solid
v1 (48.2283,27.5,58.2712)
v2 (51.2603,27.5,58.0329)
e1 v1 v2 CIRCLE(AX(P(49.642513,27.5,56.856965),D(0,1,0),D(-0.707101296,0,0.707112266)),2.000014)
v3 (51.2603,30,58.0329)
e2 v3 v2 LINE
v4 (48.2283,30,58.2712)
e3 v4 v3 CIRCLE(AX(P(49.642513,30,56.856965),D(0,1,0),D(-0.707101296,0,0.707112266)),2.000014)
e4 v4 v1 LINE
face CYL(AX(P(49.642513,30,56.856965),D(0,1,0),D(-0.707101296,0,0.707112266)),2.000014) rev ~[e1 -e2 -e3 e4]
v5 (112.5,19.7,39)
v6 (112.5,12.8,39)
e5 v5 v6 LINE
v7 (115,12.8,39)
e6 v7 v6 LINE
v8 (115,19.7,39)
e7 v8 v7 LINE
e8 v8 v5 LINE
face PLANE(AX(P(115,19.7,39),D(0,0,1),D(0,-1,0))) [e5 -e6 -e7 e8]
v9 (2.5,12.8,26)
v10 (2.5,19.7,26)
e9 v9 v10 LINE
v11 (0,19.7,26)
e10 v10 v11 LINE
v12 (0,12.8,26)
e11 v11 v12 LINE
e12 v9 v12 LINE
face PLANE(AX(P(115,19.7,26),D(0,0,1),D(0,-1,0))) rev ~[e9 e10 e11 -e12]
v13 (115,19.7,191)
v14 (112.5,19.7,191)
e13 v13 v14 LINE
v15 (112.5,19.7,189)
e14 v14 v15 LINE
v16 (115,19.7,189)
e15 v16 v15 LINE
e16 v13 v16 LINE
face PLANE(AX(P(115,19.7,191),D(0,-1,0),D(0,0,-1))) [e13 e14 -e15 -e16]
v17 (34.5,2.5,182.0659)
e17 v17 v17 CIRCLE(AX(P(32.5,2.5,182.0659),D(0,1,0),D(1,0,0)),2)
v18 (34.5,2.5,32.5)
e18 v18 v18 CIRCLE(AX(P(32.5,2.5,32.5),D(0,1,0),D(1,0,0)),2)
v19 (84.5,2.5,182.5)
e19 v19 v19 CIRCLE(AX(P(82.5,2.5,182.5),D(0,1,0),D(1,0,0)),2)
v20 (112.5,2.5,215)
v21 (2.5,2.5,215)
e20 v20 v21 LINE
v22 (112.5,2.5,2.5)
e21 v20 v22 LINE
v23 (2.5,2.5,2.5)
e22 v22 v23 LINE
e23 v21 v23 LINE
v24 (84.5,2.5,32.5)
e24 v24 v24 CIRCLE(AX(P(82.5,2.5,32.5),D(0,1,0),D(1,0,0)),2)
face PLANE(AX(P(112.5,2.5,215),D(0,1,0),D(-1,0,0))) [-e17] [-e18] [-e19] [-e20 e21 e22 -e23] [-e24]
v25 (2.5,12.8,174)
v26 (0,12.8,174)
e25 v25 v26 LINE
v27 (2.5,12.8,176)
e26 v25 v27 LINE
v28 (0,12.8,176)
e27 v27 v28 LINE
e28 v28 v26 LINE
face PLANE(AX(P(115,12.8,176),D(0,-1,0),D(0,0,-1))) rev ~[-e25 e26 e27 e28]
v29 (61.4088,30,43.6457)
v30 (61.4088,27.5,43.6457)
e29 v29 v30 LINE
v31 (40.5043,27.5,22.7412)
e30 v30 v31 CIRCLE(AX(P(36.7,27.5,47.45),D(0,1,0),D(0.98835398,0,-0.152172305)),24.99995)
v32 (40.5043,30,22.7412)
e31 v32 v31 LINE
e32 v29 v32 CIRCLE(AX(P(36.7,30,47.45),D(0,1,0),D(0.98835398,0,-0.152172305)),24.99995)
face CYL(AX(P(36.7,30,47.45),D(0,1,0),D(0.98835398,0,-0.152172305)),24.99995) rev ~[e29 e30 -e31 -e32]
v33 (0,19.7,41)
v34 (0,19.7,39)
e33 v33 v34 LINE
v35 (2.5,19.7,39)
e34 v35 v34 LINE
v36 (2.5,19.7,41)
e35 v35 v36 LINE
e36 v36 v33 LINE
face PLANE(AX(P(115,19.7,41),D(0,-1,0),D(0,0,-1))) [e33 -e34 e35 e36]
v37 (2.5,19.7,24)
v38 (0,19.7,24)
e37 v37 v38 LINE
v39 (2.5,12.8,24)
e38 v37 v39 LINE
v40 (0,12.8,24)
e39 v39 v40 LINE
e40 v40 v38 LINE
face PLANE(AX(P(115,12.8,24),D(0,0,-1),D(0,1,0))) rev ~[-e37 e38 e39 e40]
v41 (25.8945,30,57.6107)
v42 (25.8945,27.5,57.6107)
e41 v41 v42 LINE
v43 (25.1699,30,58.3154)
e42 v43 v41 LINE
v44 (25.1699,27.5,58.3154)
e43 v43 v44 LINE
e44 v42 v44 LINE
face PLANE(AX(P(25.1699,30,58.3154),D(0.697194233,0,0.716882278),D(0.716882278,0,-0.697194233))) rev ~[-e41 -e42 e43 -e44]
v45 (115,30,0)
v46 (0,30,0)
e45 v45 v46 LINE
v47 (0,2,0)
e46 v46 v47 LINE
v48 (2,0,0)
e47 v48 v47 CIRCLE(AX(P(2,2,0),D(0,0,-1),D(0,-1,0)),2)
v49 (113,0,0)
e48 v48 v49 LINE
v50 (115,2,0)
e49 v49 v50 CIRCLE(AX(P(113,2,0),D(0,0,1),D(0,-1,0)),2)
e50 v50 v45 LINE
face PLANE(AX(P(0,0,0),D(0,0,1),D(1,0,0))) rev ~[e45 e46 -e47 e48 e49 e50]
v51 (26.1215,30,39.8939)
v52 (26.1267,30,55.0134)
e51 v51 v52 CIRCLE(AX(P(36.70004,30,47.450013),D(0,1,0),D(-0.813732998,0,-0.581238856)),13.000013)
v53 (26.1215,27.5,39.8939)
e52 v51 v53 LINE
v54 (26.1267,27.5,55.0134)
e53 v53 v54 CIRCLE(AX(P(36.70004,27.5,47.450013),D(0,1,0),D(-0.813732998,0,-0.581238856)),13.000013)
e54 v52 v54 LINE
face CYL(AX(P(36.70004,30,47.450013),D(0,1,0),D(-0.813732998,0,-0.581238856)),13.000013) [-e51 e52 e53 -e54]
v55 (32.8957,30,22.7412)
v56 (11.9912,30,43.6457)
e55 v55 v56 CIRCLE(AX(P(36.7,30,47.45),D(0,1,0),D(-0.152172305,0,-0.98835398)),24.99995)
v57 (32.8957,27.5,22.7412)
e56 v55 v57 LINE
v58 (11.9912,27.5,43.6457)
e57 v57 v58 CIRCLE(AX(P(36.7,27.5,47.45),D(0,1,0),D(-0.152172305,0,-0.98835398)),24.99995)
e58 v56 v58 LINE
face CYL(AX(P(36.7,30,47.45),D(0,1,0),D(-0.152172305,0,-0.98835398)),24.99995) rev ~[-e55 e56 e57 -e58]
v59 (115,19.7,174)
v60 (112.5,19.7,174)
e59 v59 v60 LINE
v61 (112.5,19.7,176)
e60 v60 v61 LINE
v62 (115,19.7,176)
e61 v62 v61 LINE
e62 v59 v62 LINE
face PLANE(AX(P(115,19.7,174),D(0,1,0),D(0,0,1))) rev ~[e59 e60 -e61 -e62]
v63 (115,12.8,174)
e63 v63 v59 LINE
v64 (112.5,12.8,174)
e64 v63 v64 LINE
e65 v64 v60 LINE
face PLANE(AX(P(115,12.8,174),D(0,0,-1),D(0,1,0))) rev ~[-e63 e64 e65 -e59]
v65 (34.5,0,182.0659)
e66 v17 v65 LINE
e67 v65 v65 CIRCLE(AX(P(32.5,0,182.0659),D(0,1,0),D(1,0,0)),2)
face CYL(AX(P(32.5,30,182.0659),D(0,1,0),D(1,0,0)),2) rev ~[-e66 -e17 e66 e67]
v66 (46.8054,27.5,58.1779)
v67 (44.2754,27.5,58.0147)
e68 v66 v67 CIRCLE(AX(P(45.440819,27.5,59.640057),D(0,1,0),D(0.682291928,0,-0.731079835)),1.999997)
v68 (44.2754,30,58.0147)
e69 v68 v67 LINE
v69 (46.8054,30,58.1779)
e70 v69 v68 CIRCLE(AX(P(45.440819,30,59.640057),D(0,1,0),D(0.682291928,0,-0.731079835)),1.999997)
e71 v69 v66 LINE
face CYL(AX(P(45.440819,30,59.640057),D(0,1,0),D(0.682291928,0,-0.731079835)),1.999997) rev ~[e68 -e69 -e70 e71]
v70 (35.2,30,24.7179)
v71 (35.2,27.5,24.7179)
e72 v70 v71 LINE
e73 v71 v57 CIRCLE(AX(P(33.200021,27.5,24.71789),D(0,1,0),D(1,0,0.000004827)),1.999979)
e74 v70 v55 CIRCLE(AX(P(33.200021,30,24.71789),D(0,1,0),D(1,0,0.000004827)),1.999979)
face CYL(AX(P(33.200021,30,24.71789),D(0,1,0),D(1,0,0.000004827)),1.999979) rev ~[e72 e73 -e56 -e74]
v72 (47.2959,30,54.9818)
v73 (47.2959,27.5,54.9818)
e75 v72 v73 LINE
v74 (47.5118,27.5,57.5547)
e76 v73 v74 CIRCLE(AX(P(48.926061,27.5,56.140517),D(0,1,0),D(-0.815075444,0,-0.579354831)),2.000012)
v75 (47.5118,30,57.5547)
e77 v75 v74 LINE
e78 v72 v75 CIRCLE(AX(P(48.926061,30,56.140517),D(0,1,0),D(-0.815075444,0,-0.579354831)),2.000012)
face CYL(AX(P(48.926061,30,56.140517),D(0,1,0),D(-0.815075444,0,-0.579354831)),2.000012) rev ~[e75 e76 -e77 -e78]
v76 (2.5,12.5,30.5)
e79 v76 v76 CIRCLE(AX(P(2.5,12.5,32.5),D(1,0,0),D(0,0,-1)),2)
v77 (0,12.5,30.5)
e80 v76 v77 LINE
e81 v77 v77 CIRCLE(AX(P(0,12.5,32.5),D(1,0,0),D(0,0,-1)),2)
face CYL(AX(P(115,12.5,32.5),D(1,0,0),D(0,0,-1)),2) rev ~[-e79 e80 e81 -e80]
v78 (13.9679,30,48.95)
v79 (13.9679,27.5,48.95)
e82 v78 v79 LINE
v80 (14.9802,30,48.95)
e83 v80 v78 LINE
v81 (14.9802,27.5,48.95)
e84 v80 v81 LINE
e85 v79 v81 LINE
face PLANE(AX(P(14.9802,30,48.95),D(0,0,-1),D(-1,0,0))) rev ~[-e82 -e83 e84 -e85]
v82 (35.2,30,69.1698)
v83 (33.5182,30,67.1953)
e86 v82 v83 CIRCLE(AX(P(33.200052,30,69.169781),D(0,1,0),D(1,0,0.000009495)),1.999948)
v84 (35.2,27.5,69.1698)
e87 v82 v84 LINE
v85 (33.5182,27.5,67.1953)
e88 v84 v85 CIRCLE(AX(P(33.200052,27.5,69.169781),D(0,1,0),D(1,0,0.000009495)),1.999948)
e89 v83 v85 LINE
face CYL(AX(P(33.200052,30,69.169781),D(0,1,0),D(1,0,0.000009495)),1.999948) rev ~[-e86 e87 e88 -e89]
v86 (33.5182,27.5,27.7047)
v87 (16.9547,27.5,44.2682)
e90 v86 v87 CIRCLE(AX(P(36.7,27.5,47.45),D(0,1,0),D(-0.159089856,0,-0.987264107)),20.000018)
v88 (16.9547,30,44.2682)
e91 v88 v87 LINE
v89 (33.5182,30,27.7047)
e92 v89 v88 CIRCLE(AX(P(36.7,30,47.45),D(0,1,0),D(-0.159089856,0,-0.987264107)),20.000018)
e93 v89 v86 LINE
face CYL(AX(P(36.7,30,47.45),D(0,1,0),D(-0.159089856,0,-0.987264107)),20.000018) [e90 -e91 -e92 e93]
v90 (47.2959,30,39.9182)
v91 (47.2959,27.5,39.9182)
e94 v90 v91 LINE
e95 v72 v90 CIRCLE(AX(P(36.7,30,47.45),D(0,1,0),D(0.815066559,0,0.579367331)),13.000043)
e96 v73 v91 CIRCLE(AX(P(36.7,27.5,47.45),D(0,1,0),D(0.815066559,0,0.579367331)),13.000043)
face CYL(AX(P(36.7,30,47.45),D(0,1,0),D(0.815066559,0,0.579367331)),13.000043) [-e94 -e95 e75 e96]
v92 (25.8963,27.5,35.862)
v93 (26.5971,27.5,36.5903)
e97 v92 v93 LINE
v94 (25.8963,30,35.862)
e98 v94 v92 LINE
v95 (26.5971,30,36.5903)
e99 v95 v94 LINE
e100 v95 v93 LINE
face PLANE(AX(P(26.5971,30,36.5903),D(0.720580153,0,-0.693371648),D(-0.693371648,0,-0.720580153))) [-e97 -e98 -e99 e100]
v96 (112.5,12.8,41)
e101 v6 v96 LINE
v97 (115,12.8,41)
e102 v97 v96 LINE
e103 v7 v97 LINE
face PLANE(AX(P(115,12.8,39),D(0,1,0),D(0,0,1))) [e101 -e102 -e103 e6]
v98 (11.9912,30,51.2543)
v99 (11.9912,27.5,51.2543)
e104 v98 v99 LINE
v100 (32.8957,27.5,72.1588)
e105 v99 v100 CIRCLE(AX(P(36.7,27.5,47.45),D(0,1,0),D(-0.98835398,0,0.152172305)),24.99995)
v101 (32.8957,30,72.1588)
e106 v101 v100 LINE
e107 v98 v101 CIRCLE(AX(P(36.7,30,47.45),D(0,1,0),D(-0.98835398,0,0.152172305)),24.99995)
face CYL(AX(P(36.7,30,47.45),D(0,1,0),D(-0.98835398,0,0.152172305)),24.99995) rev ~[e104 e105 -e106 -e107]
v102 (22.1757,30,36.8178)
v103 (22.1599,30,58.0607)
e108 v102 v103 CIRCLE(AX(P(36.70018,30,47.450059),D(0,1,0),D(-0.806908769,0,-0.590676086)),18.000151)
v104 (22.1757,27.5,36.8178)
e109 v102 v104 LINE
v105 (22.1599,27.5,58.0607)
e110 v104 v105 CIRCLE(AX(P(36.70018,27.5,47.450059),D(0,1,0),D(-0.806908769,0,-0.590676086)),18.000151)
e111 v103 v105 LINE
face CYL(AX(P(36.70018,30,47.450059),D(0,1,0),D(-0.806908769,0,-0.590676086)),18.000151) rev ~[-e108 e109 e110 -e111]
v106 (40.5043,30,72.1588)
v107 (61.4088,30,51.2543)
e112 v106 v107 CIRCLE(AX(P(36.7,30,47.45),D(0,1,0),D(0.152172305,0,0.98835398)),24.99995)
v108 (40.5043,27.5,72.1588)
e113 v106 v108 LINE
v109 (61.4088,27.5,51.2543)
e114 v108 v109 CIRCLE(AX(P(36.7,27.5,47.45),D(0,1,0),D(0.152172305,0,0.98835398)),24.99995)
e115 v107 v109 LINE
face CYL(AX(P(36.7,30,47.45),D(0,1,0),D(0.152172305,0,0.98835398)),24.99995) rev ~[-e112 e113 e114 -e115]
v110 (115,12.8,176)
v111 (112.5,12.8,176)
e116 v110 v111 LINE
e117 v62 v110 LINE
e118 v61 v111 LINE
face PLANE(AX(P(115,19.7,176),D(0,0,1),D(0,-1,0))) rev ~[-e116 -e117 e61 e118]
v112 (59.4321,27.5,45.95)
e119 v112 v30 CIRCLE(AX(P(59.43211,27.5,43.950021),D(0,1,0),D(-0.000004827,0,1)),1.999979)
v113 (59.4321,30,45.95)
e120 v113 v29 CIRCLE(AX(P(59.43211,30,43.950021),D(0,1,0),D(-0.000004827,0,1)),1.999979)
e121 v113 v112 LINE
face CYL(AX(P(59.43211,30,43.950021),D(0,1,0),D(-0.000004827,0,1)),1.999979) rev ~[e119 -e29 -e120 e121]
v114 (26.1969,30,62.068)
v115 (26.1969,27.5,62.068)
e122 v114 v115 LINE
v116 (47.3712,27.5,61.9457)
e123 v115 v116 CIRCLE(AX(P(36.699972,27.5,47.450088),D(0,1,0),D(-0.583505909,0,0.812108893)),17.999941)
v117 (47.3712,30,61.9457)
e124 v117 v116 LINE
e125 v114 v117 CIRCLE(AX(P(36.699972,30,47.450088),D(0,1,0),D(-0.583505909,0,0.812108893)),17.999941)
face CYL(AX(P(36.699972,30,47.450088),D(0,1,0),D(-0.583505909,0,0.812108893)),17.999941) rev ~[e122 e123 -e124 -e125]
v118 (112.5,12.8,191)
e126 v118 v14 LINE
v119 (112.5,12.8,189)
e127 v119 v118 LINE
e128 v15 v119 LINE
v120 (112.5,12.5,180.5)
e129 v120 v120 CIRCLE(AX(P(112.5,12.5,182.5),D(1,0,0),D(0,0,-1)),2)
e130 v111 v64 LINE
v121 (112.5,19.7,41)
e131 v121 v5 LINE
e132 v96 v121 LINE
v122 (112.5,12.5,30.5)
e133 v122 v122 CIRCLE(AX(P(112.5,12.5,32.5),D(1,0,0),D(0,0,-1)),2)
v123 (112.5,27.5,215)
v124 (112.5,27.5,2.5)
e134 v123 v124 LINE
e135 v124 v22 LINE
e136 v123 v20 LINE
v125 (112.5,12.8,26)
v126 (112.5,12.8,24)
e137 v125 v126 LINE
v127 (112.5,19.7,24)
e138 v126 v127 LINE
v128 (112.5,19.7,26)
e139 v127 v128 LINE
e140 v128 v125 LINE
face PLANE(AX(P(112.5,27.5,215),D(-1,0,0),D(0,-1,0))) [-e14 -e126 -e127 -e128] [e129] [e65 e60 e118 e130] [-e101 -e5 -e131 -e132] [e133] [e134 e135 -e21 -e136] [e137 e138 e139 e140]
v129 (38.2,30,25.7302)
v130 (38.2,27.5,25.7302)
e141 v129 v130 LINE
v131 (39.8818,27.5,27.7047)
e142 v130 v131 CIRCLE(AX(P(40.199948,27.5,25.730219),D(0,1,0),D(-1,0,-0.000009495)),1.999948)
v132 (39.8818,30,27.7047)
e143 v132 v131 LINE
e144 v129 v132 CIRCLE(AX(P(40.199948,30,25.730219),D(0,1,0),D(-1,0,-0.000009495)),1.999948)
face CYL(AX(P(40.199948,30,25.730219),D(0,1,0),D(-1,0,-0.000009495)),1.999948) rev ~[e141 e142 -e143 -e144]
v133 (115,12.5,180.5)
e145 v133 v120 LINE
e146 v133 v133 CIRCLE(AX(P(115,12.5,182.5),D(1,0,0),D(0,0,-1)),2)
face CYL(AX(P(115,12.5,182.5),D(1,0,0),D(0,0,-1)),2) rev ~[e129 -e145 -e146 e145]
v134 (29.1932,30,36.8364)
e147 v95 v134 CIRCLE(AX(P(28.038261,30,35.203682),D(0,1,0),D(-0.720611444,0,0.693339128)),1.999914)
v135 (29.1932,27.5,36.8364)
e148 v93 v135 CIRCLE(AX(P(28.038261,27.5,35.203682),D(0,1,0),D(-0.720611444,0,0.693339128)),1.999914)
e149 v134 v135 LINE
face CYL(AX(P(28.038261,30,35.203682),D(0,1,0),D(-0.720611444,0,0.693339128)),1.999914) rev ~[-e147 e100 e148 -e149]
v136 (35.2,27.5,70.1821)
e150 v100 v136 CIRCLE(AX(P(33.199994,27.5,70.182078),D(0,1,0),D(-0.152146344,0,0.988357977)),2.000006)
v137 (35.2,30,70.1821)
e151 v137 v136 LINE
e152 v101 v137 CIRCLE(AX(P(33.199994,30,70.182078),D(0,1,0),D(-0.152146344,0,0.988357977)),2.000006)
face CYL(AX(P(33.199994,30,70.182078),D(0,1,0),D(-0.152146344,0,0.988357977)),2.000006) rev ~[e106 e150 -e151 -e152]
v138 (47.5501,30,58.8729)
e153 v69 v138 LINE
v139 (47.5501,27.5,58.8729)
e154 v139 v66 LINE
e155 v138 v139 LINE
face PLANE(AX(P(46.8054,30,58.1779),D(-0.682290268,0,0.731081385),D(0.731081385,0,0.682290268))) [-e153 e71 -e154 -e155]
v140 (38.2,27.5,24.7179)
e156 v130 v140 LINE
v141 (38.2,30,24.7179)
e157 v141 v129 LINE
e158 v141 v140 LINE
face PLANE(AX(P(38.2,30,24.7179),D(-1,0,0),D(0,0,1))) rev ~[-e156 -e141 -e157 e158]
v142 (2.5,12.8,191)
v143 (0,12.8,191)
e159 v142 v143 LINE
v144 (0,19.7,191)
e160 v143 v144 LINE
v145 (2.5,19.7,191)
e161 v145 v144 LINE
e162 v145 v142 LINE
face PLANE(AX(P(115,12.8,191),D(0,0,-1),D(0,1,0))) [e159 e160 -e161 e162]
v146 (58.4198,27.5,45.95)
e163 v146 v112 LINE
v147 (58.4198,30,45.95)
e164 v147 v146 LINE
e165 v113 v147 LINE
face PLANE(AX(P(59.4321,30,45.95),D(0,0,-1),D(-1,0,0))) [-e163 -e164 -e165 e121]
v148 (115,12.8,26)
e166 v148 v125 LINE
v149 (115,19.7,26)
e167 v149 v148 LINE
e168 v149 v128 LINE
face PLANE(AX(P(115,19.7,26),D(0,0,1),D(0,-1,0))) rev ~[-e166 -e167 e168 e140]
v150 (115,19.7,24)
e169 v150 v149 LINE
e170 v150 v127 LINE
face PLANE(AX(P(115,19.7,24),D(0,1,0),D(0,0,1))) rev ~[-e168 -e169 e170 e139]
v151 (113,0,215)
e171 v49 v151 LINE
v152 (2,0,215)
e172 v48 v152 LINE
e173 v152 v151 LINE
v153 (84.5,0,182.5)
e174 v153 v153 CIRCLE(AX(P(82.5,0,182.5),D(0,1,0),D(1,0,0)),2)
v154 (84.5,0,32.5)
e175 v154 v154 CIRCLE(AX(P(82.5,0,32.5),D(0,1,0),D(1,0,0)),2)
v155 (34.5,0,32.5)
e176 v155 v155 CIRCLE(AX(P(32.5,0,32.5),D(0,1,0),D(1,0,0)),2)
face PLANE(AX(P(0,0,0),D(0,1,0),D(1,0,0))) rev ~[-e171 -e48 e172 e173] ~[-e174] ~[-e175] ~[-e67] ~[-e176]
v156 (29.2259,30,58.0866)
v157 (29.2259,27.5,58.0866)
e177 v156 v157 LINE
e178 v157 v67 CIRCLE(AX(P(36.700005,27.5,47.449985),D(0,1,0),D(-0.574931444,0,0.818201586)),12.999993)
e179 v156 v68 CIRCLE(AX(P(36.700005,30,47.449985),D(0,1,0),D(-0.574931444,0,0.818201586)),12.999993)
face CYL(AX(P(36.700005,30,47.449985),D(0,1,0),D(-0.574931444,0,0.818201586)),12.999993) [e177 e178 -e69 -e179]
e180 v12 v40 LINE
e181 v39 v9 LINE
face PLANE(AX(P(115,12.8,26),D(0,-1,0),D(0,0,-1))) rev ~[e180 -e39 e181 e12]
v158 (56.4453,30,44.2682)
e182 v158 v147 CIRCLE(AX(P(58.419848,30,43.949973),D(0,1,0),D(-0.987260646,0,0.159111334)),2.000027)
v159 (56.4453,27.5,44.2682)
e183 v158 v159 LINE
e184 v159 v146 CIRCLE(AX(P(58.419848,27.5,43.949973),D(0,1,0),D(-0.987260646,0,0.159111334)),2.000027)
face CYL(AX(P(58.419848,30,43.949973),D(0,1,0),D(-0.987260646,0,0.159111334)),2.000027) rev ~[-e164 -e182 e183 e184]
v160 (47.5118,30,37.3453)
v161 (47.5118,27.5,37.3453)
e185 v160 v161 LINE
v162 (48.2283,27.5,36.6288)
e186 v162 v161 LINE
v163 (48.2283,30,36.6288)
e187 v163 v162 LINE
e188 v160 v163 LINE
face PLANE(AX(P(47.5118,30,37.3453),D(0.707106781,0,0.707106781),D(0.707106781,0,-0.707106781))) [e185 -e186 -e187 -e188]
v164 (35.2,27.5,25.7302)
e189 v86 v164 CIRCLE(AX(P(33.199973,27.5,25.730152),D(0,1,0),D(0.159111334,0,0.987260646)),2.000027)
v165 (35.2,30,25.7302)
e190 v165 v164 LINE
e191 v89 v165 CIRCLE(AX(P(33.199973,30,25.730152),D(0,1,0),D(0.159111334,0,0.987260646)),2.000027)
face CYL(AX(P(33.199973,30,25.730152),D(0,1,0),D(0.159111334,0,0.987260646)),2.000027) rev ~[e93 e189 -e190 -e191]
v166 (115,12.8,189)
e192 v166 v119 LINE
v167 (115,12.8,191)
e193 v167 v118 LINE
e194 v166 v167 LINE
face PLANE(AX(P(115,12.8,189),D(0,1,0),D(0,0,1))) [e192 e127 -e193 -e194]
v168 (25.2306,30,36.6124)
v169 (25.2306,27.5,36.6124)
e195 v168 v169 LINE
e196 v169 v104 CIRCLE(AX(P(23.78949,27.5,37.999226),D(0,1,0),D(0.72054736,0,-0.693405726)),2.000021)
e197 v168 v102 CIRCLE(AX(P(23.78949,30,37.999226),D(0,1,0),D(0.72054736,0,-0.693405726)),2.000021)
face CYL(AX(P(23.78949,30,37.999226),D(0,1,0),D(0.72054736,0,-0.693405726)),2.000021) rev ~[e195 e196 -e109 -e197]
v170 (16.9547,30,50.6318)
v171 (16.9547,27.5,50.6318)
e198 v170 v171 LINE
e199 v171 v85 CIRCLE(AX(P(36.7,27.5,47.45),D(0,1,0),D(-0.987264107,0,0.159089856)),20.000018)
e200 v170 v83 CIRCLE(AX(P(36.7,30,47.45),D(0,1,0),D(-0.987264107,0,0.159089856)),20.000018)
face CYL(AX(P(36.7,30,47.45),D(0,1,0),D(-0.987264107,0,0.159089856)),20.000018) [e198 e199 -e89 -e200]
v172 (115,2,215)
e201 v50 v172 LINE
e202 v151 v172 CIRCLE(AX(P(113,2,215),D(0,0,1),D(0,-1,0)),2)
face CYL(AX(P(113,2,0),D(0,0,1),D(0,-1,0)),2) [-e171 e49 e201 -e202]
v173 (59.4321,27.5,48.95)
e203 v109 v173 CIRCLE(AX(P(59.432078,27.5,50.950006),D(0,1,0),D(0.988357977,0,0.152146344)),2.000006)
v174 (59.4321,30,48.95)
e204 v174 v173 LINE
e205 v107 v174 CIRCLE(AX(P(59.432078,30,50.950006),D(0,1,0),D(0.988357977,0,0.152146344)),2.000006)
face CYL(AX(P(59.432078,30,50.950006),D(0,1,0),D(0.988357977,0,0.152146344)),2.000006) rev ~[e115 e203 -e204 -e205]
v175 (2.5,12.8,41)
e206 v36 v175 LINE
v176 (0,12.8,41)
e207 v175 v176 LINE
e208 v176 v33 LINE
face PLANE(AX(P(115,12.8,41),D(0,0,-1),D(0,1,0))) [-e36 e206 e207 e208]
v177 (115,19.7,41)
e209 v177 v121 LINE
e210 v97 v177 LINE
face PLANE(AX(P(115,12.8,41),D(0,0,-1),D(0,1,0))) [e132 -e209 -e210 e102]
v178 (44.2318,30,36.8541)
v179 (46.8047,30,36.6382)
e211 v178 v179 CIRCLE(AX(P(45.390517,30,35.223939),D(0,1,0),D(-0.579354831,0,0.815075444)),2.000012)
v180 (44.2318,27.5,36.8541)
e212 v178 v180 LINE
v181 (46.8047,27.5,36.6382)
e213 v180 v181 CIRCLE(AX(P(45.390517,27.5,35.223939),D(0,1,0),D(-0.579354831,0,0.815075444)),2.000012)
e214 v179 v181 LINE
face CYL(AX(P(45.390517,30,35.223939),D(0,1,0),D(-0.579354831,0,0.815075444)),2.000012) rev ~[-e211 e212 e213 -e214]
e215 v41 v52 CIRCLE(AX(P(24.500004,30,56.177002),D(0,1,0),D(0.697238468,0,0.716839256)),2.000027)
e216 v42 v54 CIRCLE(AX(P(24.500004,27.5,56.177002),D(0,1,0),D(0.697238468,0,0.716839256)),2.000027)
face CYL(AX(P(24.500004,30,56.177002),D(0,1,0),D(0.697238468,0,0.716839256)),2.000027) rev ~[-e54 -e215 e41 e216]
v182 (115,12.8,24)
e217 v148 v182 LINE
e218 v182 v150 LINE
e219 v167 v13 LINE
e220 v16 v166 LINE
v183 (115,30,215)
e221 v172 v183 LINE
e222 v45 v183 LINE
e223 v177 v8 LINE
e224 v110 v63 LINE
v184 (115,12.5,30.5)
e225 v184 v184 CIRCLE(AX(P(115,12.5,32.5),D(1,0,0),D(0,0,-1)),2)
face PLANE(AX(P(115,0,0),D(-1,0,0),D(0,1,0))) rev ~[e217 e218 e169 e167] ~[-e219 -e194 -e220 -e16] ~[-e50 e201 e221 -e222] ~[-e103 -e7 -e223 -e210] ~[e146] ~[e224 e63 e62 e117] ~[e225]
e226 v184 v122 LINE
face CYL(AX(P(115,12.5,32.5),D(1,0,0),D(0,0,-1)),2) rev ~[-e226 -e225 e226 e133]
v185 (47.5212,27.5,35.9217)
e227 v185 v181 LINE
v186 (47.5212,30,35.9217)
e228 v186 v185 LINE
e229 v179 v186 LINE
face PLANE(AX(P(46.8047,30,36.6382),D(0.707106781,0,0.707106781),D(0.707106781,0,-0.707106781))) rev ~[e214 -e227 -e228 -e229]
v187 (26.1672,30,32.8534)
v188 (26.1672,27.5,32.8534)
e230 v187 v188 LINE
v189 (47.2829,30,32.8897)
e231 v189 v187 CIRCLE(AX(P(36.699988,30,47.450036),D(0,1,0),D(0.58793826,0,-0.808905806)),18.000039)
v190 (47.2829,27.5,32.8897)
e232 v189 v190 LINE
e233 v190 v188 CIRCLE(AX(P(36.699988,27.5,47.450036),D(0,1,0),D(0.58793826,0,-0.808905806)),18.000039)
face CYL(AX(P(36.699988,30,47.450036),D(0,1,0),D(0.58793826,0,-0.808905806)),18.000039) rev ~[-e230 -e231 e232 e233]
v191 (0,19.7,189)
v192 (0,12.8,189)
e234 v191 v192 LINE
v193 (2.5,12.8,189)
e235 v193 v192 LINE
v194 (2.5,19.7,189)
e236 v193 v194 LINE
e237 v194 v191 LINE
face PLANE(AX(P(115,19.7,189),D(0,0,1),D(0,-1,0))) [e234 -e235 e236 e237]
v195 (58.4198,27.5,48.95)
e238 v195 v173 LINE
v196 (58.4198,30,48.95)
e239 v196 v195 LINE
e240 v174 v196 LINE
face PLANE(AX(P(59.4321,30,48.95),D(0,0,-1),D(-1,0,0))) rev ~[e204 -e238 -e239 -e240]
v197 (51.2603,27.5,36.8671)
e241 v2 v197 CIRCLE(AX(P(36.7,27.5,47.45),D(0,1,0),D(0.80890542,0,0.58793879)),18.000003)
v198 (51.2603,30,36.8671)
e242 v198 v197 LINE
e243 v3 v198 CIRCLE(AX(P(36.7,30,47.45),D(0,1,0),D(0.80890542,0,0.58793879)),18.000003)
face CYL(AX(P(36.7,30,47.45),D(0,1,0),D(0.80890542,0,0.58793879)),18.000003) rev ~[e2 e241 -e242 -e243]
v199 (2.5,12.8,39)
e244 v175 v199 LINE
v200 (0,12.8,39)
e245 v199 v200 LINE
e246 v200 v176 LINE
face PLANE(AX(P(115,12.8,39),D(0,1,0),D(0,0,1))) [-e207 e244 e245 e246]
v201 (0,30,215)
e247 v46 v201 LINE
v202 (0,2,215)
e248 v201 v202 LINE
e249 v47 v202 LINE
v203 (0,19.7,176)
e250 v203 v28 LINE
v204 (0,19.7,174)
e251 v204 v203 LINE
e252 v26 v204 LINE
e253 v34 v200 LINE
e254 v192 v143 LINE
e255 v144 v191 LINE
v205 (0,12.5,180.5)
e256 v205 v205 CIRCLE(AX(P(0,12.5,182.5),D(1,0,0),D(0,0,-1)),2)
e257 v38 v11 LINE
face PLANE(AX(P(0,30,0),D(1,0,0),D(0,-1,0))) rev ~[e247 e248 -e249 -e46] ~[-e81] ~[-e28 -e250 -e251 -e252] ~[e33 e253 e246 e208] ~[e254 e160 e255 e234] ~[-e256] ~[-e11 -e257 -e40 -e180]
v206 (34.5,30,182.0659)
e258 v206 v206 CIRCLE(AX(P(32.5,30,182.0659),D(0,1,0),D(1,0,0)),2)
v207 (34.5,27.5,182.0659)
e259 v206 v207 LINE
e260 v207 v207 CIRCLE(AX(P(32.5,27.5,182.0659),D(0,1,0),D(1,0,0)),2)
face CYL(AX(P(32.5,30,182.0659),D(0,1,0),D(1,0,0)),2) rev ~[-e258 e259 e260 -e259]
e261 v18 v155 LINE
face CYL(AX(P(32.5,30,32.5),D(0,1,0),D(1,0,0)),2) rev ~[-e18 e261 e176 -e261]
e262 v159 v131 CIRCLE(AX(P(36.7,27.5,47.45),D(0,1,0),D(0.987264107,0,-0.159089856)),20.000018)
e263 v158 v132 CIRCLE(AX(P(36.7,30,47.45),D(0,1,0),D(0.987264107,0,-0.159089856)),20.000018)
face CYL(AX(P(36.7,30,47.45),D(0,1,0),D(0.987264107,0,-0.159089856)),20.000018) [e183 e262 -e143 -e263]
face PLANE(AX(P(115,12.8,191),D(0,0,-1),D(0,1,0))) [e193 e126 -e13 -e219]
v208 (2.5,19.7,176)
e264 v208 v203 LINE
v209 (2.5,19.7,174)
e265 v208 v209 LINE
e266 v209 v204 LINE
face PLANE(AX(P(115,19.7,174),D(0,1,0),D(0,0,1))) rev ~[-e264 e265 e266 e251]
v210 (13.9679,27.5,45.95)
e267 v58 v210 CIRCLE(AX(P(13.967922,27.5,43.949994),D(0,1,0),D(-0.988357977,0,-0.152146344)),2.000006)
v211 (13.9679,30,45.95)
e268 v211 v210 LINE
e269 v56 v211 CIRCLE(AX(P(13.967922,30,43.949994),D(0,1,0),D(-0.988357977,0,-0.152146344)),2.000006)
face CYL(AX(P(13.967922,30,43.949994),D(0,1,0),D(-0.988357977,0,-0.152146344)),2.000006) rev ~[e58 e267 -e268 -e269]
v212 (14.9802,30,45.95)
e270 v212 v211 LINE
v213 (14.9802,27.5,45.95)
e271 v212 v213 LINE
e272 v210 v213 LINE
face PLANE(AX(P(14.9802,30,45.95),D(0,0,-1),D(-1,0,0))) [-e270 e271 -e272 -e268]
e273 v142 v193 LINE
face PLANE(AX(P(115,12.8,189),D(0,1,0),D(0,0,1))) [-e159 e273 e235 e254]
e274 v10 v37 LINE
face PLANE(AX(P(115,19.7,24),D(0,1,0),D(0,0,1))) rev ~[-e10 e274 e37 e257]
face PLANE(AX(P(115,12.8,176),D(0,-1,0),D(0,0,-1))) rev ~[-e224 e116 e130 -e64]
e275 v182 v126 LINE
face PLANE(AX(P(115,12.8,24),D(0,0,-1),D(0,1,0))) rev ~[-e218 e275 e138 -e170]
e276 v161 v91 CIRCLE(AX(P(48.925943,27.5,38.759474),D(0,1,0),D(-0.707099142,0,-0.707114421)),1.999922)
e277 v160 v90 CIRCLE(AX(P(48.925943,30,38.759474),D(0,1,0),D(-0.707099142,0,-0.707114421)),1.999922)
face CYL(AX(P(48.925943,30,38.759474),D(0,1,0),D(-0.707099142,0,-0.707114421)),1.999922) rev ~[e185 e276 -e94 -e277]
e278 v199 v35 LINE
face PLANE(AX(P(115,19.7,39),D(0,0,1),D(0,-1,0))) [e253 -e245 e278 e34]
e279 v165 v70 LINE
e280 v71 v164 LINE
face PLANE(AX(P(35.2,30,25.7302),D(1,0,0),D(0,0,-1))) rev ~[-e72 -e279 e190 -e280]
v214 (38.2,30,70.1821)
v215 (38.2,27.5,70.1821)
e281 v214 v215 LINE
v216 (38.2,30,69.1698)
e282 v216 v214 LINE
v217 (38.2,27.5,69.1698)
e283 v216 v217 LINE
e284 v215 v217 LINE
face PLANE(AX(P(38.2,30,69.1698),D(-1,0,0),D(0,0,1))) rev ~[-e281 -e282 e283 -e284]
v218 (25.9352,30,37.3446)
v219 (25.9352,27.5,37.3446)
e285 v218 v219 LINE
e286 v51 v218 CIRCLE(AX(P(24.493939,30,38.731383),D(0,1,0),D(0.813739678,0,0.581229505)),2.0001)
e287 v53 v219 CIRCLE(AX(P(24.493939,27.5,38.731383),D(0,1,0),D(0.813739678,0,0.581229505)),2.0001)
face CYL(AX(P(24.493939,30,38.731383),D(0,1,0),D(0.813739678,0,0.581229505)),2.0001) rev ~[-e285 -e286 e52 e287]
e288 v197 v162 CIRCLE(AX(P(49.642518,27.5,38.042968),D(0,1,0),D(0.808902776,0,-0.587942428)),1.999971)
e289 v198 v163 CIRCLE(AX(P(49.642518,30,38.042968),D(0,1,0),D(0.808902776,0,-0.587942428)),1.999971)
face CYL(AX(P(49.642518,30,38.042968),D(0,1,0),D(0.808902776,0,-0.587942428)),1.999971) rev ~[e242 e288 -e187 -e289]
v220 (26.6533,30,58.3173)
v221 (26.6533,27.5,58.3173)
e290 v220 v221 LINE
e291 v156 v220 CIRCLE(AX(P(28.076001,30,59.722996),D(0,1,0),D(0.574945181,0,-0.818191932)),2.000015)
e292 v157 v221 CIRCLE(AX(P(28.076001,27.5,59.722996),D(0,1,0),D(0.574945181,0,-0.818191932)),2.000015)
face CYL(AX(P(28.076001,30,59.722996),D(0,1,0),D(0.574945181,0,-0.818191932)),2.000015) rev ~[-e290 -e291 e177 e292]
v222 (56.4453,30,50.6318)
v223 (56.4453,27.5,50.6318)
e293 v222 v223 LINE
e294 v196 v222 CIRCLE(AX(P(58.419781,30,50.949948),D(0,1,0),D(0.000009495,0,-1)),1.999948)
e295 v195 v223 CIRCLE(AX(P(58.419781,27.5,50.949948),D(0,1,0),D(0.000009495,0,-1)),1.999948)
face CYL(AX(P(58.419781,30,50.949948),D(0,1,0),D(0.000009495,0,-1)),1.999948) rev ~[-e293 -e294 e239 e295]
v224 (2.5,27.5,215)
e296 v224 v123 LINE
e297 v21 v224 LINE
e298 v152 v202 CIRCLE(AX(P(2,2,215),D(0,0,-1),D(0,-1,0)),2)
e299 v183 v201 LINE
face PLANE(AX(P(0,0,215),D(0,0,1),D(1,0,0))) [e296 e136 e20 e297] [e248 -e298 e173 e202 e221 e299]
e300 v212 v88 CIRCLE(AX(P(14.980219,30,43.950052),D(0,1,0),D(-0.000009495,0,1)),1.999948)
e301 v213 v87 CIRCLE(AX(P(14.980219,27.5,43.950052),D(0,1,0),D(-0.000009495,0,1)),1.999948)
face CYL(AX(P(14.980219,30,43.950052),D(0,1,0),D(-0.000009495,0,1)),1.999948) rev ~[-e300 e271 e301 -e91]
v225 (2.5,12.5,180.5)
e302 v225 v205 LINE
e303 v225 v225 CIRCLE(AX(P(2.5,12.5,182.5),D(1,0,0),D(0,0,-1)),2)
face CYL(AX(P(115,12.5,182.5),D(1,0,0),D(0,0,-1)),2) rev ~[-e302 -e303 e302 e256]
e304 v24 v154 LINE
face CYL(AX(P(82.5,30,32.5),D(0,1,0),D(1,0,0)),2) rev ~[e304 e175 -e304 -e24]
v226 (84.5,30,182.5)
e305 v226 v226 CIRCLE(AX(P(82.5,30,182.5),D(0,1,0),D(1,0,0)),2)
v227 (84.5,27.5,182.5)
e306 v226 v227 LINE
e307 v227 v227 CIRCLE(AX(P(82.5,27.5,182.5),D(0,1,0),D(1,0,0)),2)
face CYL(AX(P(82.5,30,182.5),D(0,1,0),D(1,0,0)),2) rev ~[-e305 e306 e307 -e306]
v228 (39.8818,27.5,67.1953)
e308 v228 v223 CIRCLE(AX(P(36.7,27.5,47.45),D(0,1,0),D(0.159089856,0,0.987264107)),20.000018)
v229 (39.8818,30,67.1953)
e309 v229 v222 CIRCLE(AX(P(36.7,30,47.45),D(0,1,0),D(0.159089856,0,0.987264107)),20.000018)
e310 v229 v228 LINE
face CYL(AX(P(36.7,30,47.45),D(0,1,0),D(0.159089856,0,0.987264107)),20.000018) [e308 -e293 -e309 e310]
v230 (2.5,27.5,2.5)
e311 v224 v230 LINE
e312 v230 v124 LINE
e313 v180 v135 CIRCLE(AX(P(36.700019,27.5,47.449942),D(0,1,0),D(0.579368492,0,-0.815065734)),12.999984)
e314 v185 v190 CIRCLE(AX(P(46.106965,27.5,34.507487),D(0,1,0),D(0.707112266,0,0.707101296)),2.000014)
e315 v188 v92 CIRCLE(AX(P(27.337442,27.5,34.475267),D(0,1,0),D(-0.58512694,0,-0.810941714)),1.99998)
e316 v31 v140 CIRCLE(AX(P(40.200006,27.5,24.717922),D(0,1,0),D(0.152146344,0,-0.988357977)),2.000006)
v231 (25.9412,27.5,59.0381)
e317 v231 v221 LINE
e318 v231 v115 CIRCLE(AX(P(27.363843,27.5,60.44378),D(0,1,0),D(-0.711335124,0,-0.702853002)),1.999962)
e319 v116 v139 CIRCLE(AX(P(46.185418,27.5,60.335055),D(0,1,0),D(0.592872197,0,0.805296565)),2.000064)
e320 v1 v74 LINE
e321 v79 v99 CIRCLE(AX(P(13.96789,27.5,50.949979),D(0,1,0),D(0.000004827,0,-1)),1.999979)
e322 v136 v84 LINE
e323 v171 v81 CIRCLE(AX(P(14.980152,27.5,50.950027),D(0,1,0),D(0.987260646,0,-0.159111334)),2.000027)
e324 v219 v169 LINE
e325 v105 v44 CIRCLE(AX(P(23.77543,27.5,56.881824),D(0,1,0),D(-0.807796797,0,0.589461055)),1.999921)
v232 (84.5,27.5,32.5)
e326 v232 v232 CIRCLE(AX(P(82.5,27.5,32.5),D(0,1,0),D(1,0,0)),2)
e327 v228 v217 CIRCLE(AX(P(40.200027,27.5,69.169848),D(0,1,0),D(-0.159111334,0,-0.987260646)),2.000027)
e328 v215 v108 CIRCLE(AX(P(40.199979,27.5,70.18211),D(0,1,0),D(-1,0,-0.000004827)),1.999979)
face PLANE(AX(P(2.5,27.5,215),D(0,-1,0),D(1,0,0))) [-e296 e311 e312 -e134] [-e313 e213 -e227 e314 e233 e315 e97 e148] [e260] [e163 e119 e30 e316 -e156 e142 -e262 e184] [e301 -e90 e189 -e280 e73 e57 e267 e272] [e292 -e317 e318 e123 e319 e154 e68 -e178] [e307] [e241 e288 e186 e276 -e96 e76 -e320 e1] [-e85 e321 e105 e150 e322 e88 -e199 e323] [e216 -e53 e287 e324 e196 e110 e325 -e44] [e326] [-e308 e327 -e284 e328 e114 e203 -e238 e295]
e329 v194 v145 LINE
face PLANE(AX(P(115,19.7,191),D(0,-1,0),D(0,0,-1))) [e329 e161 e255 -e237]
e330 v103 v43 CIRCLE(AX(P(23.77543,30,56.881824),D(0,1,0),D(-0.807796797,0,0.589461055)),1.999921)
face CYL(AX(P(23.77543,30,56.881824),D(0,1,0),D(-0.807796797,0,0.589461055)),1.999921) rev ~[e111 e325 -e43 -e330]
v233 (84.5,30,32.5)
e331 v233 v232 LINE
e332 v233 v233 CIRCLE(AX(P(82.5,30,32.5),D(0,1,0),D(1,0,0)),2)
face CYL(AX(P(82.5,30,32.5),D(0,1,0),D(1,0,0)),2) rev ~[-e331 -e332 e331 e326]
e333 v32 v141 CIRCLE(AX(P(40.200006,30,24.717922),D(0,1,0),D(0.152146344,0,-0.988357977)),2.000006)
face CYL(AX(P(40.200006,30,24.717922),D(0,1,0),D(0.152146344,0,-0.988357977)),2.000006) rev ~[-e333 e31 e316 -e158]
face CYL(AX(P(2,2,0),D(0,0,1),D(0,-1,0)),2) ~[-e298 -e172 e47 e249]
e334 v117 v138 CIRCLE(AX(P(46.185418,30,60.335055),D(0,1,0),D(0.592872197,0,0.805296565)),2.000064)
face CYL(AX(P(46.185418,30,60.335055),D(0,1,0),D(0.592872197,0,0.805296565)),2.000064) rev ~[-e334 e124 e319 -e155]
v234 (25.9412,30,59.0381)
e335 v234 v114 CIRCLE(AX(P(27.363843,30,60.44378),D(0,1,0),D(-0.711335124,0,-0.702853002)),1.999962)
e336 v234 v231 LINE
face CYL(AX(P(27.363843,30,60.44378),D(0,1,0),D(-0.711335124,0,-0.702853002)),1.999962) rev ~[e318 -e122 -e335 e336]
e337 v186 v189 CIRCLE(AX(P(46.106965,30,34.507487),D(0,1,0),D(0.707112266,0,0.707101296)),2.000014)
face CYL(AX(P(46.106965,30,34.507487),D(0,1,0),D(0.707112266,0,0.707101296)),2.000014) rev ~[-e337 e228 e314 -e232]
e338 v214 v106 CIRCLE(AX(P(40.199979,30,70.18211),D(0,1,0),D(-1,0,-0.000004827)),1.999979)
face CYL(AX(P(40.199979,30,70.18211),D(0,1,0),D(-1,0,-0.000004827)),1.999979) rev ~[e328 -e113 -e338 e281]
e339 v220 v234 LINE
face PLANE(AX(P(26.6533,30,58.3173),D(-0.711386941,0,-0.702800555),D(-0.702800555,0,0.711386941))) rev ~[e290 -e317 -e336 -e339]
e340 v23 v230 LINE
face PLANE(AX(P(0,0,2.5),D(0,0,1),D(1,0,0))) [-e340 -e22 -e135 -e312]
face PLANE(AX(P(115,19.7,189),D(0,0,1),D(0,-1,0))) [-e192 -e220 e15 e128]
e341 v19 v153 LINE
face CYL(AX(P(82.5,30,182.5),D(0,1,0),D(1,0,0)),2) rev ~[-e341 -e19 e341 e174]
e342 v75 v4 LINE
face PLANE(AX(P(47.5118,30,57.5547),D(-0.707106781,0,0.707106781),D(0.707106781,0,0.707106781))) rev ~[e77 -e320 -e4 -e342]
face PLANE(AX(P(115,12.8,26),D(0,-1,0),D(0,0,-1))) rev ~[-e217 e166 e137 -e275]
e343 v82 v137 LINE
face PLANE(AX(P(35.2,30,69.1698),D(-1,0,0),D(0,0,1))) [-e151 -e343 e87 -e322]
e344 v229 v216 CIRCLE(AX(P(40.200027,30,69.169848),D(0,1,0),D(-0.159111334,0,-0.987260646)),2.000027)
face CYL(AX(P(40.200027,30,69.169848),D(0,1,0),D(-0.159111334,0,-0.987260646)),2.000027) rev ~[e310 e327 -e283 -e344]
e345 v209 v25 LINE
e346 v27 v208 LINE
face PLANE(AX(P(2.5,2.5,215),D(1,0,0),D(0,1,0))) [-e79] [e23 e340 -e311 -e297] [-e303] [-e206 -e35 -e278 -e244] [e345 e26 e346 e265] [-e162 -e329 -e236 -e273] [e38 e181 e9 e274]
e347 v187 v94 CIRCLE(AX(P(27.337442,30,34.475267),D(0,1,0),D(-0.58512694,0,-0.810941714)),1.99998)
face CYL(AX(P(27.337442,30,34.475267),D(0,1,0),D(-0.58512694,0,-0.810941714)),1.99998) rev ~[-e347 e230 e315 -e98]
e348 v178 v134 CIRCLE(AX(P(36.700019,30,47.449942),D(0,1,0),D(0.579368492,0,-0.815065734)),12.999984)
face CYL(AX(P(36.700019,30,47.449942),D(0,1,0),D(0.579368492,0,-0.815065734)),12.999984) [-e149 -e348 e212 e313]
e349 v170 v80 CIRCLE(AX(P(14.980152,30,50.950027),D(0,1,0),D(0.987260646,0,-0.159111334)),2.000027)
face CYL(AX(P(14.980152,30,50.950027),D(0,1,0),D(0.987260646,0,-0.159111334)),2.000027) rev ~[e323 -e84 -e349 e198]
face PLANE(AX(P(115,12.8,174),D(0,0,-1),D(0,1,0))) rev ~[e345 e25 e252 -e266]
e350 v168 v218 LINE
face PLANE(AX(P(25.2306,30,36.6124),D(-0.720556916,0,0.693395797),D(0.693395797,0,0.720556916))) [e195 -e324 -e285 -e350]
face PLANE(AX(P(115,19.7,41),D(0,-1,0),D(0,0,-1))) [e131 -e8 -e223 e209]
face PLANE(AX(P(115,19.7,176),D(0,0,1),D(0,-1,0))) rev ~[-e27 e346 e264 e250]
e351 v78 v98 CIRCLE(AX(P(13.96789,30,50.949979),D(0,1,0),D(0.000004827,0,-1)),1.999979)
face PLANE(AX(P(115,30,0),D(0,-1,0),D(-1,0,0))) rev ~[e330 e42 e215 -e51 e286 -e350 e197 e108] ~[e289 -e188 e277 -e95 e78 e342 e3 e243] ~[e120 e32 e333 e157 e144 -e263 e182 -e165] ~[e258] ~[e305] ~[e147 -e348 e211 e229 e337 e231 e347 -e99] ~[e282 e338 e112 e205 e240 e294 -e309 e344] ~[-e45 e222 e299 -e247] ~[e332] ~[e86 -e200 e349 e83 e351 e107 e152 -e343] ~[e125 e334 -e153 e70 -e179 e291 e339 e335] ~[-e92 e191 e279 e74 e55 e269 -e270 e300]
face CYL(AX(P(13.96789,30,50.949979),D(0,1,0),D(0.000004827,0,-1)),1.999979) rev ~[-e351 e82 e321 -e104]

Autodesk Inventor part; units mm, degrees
ref_plane "YZ Plane" through (0, 0, 0) normal (1, 0, 0) x (0, 1, 0)
ref_plane "XZ Plane" through (0, 0, 0) normal (0, 1, 0) x (-1, 0, 0)
ref_plane "XY Plane" through (0, 0, 0) normal (0, 0, 1) x (1, 0, 0)
sketch "Sketch1" plane through (0, 0, 0) normal (0, 0, 1) x (1, 0, 0)
  line L0 (0, 0) -> (115, 0)
  line L1 (115, 0) -> (115, 30)
  line L2 (115, 30) -> (0, 30)
  line L3 (0, 30) -> (0, 0)
  dimension "d0" = 115
  dimension "d1" = 30
extrude "Extrusion1" add sketch "Sketch1" along normal blind 215
sketch "Sketch2" plane through (115, 0, 0) normal (1, 0, 0) x (0, 0, -1)
  line L0 (-215, 0) -> (-215, 30) projected
  circle A0 centre (-182.5, 12.5) radius 2
  point P0 (0, 0)
  dimension "d6" = 4
extrude "Extrusion2" cut sketch "Sketch2" against normal blind 215
sketch "Sketch3" plane through (115, 0, 0) normal (1, 0, 0) x (0, 0, -1)
  line L0 (0, 30) -> (0, 0) projected
  circle A0 centre (-32.5, 12.5) radius 2
  dimension "d11" = 4
extrude "Extrusion3" cut sketch "Sketch3" against normal blind 215
sketch "Sketch4" plane through (0, 30, 0) normal (0, 1, 0) x (1, 0, 0)
  line L0 (115, 0) -> (115, -215) projected
  circle A0 centre (32.5, -182.0659) radius 2
  circle A1 centre (82.5, -182.5) radius 2
  point P0 (0, 0)
  dimension "d18" = 4
  dimension "d19" = 4
extrude "Extrusion4" cut sketch "Sketch4" against normal blind 215
sketch "Sketch5" plane through (0, 30, 0) normal (0, 1, 0) x (1, 0, 0)
  circle A0 centre (32.5, -32.5) radius 2
  circle A1 centre (82.5, -32.5) radius 2
  point P0 (115, 0)
  dimension "d26" = 4
extrude "Extrusion5" cut sketch "Sketch5" against normal blind 215
sketch "Sketch6" plane through (115, 0, 0) normal (1, 0, 0) x (0, 0, -1)
  line L0 (0, 0) -> (-215, 0) projected
  line L1 (-176, 12.8) -> (-174, 12.8)
  line L2 (-174, 12.8) -> (-174, 19.7)
  line L3 (-174, 19.7) -> (-176, 19.7)
  line L4 (-176, 19.7) -> (-176, 12.8)
  line L5 (-189, 19.7) -> (-189, 12.8)
  line L6 (-176, 12.8) -> (-176, 19.7)
  line L7 (-189, 12.8) -> (-191, 12.8)
  line L8 (-191, 12.8) -> (-191, 19.7)
  line L9 (-191, 19.7) -> (-189, 19.7)
  line L10 (-189, 19.7) -> (-189, 12.8)
  dimension "d34" = 2
  dimension "d35" = 6.9
  dimension "d36" = 13
  dimension "d38" = 2
extrude "Extrusion6" cut sketch "Sketch6" against normal blind 215
sketch "Sketch7" plane through (115, 0, 0) normal (1, 0, 0) x (0, 0, -1)
  line L0 (-39, 12.5) -> (-39, 12.8)
  line L1 (-39, 12.8) -> (-41, 12.8)
  line L2 (-41, 12.8) -> (-41, 19.7)
  line L3 (-41, 19.7) -> (-39, 19.7)
  line L4 (-39, 19.7) -> (-39, 12.8)
  line L5 (-26, 19.7) -> (-26, 12.8)
  line L6 (-39, 12.8) -> (-39, 19.7)
  line L7 (-26, 12.8) -> (-24, 12.8)
  line L8 (-24, 12.8) -> (-24, 19.7)
  line L9 (-24, 19.7) -> (-26, 19.7)
  line L10 (-26, 19.7) -> (-26, 12.8)
  point P0 (0, 0)
  point P1 (-32.5, 12.5)
  dimension "d51" = 2
  dimension "d55" = 2
extrude "Extrusion7" cut sketch "Sketch7" against normal blind 215
sketch "Sketch8" plane through (0, 30, 0) normal (0, 1, 0) x (1, 0, 0)
  line L0 (0, 0) -> (115, 0) projected
  line L1 (0, 0) -> (36.7, 0)
  line L2 (0, -47.45) -> (0, 0)
  line L3 (36.7, -47.45) -> (35.2, -47.45)
  line L4 (38.2, -47.45) -> (35.2, -47.45)
  line L5 (38.2, -24.7179) -> (38.2, -25.7302)
  line L6 (35.2, -25.7302) -> (35.2, -24.7179)
  line L7 (14.9802, -45.95) -> (13.9679, -45.95)
  line L8 (14.9802, -48.95) -> (13.9679, -48.95)
  line L9 (35.2, -69.1698) -> (35.2, -70.1821)
  line L10 (38.2, -69.1698) -> (38.2, -70.1821)
  line L11 (59.4321, -45.95) -> (58.4198, -45.95)
  line L12 (59.4321, -48.95) -> (58.4198, -48.95)
  arc A0 (32.8957, -22.7412) -> (11.9912, -43.6457) centre (36.7, -47.45) ccw
  arc A1 (33.5182, -27.7047) -> (16.9547, -44.2682) centre (36.7, -47.45) ccw
  arc A2 (16.9547, -50.6318) -> (33.5182, -67.1953) centre (36.7, -47.45) ccw
  arc A3 (11.9912, -51.2543) -> (32.8957, -72.1588) centre (36.7, -47.45) ccw
  arc A4 (40.5043, -72.1588) -> (61.4088, -51.2543) centre (36.7, -47.45) ccw
  arc A5 (61.4088, -43.6457) -> (40.5043, -22.7412) centre (36.7, -47.45) ccw
  arc A6 (39.8818, -67.1953) -> (56.4453, -50.6318) centre (36.7, -47.45) ccw
  arc A7 (56.4453, -44.2682) -> (39.8818, -27.7047) centre (36.7, -47.45) ccw
  arc A8 (56.4453, -44.2682) -> (58.4198, -45.95) centre (58.4198, -43.95) ccw
  arc A9 (59.4321, -45.95) -> (61.4088, -43.6457) centre (59.4321, -43.95) ccw
  arc A10 (58.4198, -48.95) -> (56.4453, -50.6318) centre (58.4198, -50.95) ccw
  arc A11 (61.4088, -51.2543) -> (59.4321, -48.95) centre (59.4321, -50.95) ccw
  arc A12 (35.2, -69.1698) -> (33.5182, -67.1953) centre (33.2, -69.1698) ccw
  arc A13 (32.8957, -72.1588) -> (35.2, -70.1821) centre (33.2, -70.1821) ccw
  arc A14 (38.2, -70.1821) -> (40.5043, -72.1588) centre (40.2, -70.1821) ccw
  arc A15 (39.8818, -67.1953) -> (38.2, -69.1698) centre (40.2, -69.1698) ccw
  arc A16 (13.9679, -48.95) -> (11.9912, -51.2543) centre (13.9679, -50.95) ccw
  arc A17 (16.9547, -50.6318) -> (14.9802, -48.95) centre (14.9802, -50.95) ccw
  arc A18 (11.9912, -43.6457) -> (13.9679, -45.95) centre (13.9679, -43.95) ccw
  arc A19 (14.9802, -45.95) -> (16.9547, -44.2682) centre (14.9802, -43.95) ccw
  arc A20 (35.2, -24.7179) -> (32.8957, -22.7412) centre (33.2, -24.7179) ccw
  arc A21 (33.5182, -27.7047) -> (35.2, -25.7302) centre (33.2, -25.7302) ccw
  arc A22 (38.2, -25.7302) -> (39.8818, -27.7047) centre (40.2, -25.7302) ccw
  arc A23 (40.5043, -22.7412) -> (38.2, -24.7179) centre (40.2, -24.7179) ccw
  line L13 (36.7, -47.45) -> (55.0141, -47.45) construction
  line L14 (36.7, -47.45) -> (54.7, -47.45) construction
  line L15 (36.7, -47.45) -> (54.7, -47.45) construction
  line L16 (36.7, -47.45) -> (54.7, -47.45) construction
  line L17 (36.7, -47.45) -> (54.7, -47.45) construction
  line L18 (25.1699, -58.3154) -> (25.8945, -57.6107)
  line L19 (27.2078, -56.3334) -> (27.2201, -56.3456)
  line L20 (26.6533, -58.3173) -> (25.9412, -59.0381)
  line L21 (23.6943, -35.0158) -> (23.2849, -35.4486)
  line L22 (26.5971, -36.5903) -> (25.8963, -35.862)
  line L23 (46.8054, -58.1779) -> (47.5501, -58.8729)
  line L24 (47.5118, -57.5547) -> (48.2283, -58.2712)
  line L25 (45.8924, -38.2576) -> (46.3924, -38.2576) construction
  line L26 (46.8047, -36.6382) -> (47.5212, -35.9217)
  line L27 (45.8924, -38.2576) -> (46.3924, -38.2576) construction
  line L28 (47.5118, -37.3453) -> (48.2283, -36.6288)
  line L29 (25.2306, -36.6124) -> (25.9352, -37.3446)
  arc A24 (22.1757, -36.8178) -> (22.1599, -58.0607) centre (36.7, -47.45) ccw
  arc A25 (23.6896, -35.011) -> (23.2849, -35.4486) centre (36.7, -47.45) ccw
  arc A26 (26.1215, -39.8939) -> (26.1267, -55.0134) centre (36.7, -47.45) ccw
  arc A27 (47.2829, -32.8897) -> (26.1672, -32.8534) centre (36.7, -47.45) ccw
  arc A28 (44.2318, -36.8541) -> (29.1932, -36.8364) centre (36.7, -47.45) ccw
  arc A29 (29.2259, -58.0866) -> (44.2754, -58.0147) centre (36.7, -47.45) ccw
  arc A30 (47.2959, -54.9818) -> (47.2959, -39.9182) centre (36.7, -47.45) ccw
  arc A31 (26.1969, -62.068) -> (47.3712, -61.9457) centre (36.7, -47.45) ccw
  arc A32 (51.2603, -58.0329) -> (51.2603, -36.8671) centre (36.7, -47.45) ccw
  arc A33 (47.5118, -37.3453) -> (47.2959, -39.9182) centre (48.926, -38.7595) ccw
  arc A34 (51.2603, -36.8671) -> (48.2283, -36.6288) centre (49.6425, -38.043) ccw
  arc A35 (44.2318, -36.8541) -> (46.8047, -36.6382) centre (45.3905, -35.224) ccw
  arc A36 (47.5212, -35.9217) -> (47.2829, -32.8897) centre (46.107, -34.5075) ccw
  arc A37 (26.1672, -32.8534) -> (25.8963, -35.862) centre (27.3375, -34.4753) ccw
  arc A38 (26.5971, -36.5903) -> (29.1932, -36.8364) centre (28.0383, -35.2036) ccw
  arc A39 (26.1215, -39.8939) -> (25.9352, -37.3446) centre (24.494, -38.7314) ccw
  arc A40 (25.2306, -36.6124) -> (22.1757, -36.8178) centre (23.7895, -37.9992) ccw
  arc A41 (22.1599, -58.0607) -> (25.1699, -58.3154) centre (23.7755, -56.8817) ccw
  arc A42 (25.8945, -57.6107) -> (26.1267, -55.0134) centre (24.5, -56.177) ccw
  arc A43 (25.9412, -59.0381) -> (26.1969, -62.068) centre (27.3639, -60.4438) ccw
  arc A44 (29.2259, -58.0866) -> (26.6533, -58.3173) centre (28.076, -59.723) ccw
  arc A45 (47.3712, -61.9457) -> (47.5501, -58.8729) centre (46.1855, -60.3351) ccw
  arc A46 (46.8054, -58.1779) -> (44.2754, -58.0147) centre (45.4408, -59.6401) ccw
  arc A47 (47.2959, -54.9818) -> (47.5118, -57.5547) centre (48.926, -56.1405) ccw
  arc A48 (48.2283, -58.2712) -> (51.2603, -58.0329) centre (49.6425, -56.857) ccw
  point P0 (35.2, -22.495)
  point P1 (38.2, -27.5063)
  point P2 (38.2, -22.495)
  point P3 (35.2, -27.5063)
  point P4 (16.7563, -45.95)
  point P5 (16.7563, -48.95)
  point P6 (11.745, -48.95)
  point P7 (35.2, -72.405)
  point P8 (38.2, -72.405)
  point P9 (56.6437, -45.95)
  point P10 (61.655, -45.95)
  point P11 (61.655, -48.95)
  point P12 (11.745, -45.95)
  point P13 (56.6437, -48.95)
  point P14 (35.2, -67.3937)
  point P15 (38.2, -67.3937)
  point P16 (23.6235, -59.8195)
  point P17 (27.9191, -57.0362)
  point P18 (24.4031, -60.5948)
  point P19 (49.1943, -60.4074)
  point P20 (24.4005, -34.3076)
  point P21 (45.532, -37.9109)
  point P22 (27.1607, -38.6182)
  point P23 (49.7766, -35.0805)
  point P24 (49.0695, -34.3734)
  point P25 (46.2391, -38.618)
  point P26 (46.2391, -56.282)
  point P27 (45.5318, -56.9894)
  point P28 (49.7766, -59.8195)
  point P29 (27.8679, -37.9109)
sketch "Sketch9" plane through (0, 0, 215) normal (0, 0, 1) x (1, 0, 0)
  line L0 (0, 30) -> (0, 0) projected
  line L1 (115, 0) -> (115, 30) projected
  line L2 (2.5, 27.5) -> (112.5, 27.5)
  line L3 (112.5, 27.5) -> (112.5, 2.5)
  line L4 (112.5, 2.5) -> (2.5, 2.5)
  line L5 (2.5, 2.5) -> (2.5, 27.5)
extrude "Extrusion8" cut sketch "Sketch9" against normal blind 212.5
extrude "Extrusion9" cut sketch "Sketch8" against normal blind 5
fillet "Fillet1" radius 2 1 edges at (115, 0, 107.5)
fillet "Fillet2" radius 2 1 edges at (0, 0, 107.5)
properties part number "LRS-350"
